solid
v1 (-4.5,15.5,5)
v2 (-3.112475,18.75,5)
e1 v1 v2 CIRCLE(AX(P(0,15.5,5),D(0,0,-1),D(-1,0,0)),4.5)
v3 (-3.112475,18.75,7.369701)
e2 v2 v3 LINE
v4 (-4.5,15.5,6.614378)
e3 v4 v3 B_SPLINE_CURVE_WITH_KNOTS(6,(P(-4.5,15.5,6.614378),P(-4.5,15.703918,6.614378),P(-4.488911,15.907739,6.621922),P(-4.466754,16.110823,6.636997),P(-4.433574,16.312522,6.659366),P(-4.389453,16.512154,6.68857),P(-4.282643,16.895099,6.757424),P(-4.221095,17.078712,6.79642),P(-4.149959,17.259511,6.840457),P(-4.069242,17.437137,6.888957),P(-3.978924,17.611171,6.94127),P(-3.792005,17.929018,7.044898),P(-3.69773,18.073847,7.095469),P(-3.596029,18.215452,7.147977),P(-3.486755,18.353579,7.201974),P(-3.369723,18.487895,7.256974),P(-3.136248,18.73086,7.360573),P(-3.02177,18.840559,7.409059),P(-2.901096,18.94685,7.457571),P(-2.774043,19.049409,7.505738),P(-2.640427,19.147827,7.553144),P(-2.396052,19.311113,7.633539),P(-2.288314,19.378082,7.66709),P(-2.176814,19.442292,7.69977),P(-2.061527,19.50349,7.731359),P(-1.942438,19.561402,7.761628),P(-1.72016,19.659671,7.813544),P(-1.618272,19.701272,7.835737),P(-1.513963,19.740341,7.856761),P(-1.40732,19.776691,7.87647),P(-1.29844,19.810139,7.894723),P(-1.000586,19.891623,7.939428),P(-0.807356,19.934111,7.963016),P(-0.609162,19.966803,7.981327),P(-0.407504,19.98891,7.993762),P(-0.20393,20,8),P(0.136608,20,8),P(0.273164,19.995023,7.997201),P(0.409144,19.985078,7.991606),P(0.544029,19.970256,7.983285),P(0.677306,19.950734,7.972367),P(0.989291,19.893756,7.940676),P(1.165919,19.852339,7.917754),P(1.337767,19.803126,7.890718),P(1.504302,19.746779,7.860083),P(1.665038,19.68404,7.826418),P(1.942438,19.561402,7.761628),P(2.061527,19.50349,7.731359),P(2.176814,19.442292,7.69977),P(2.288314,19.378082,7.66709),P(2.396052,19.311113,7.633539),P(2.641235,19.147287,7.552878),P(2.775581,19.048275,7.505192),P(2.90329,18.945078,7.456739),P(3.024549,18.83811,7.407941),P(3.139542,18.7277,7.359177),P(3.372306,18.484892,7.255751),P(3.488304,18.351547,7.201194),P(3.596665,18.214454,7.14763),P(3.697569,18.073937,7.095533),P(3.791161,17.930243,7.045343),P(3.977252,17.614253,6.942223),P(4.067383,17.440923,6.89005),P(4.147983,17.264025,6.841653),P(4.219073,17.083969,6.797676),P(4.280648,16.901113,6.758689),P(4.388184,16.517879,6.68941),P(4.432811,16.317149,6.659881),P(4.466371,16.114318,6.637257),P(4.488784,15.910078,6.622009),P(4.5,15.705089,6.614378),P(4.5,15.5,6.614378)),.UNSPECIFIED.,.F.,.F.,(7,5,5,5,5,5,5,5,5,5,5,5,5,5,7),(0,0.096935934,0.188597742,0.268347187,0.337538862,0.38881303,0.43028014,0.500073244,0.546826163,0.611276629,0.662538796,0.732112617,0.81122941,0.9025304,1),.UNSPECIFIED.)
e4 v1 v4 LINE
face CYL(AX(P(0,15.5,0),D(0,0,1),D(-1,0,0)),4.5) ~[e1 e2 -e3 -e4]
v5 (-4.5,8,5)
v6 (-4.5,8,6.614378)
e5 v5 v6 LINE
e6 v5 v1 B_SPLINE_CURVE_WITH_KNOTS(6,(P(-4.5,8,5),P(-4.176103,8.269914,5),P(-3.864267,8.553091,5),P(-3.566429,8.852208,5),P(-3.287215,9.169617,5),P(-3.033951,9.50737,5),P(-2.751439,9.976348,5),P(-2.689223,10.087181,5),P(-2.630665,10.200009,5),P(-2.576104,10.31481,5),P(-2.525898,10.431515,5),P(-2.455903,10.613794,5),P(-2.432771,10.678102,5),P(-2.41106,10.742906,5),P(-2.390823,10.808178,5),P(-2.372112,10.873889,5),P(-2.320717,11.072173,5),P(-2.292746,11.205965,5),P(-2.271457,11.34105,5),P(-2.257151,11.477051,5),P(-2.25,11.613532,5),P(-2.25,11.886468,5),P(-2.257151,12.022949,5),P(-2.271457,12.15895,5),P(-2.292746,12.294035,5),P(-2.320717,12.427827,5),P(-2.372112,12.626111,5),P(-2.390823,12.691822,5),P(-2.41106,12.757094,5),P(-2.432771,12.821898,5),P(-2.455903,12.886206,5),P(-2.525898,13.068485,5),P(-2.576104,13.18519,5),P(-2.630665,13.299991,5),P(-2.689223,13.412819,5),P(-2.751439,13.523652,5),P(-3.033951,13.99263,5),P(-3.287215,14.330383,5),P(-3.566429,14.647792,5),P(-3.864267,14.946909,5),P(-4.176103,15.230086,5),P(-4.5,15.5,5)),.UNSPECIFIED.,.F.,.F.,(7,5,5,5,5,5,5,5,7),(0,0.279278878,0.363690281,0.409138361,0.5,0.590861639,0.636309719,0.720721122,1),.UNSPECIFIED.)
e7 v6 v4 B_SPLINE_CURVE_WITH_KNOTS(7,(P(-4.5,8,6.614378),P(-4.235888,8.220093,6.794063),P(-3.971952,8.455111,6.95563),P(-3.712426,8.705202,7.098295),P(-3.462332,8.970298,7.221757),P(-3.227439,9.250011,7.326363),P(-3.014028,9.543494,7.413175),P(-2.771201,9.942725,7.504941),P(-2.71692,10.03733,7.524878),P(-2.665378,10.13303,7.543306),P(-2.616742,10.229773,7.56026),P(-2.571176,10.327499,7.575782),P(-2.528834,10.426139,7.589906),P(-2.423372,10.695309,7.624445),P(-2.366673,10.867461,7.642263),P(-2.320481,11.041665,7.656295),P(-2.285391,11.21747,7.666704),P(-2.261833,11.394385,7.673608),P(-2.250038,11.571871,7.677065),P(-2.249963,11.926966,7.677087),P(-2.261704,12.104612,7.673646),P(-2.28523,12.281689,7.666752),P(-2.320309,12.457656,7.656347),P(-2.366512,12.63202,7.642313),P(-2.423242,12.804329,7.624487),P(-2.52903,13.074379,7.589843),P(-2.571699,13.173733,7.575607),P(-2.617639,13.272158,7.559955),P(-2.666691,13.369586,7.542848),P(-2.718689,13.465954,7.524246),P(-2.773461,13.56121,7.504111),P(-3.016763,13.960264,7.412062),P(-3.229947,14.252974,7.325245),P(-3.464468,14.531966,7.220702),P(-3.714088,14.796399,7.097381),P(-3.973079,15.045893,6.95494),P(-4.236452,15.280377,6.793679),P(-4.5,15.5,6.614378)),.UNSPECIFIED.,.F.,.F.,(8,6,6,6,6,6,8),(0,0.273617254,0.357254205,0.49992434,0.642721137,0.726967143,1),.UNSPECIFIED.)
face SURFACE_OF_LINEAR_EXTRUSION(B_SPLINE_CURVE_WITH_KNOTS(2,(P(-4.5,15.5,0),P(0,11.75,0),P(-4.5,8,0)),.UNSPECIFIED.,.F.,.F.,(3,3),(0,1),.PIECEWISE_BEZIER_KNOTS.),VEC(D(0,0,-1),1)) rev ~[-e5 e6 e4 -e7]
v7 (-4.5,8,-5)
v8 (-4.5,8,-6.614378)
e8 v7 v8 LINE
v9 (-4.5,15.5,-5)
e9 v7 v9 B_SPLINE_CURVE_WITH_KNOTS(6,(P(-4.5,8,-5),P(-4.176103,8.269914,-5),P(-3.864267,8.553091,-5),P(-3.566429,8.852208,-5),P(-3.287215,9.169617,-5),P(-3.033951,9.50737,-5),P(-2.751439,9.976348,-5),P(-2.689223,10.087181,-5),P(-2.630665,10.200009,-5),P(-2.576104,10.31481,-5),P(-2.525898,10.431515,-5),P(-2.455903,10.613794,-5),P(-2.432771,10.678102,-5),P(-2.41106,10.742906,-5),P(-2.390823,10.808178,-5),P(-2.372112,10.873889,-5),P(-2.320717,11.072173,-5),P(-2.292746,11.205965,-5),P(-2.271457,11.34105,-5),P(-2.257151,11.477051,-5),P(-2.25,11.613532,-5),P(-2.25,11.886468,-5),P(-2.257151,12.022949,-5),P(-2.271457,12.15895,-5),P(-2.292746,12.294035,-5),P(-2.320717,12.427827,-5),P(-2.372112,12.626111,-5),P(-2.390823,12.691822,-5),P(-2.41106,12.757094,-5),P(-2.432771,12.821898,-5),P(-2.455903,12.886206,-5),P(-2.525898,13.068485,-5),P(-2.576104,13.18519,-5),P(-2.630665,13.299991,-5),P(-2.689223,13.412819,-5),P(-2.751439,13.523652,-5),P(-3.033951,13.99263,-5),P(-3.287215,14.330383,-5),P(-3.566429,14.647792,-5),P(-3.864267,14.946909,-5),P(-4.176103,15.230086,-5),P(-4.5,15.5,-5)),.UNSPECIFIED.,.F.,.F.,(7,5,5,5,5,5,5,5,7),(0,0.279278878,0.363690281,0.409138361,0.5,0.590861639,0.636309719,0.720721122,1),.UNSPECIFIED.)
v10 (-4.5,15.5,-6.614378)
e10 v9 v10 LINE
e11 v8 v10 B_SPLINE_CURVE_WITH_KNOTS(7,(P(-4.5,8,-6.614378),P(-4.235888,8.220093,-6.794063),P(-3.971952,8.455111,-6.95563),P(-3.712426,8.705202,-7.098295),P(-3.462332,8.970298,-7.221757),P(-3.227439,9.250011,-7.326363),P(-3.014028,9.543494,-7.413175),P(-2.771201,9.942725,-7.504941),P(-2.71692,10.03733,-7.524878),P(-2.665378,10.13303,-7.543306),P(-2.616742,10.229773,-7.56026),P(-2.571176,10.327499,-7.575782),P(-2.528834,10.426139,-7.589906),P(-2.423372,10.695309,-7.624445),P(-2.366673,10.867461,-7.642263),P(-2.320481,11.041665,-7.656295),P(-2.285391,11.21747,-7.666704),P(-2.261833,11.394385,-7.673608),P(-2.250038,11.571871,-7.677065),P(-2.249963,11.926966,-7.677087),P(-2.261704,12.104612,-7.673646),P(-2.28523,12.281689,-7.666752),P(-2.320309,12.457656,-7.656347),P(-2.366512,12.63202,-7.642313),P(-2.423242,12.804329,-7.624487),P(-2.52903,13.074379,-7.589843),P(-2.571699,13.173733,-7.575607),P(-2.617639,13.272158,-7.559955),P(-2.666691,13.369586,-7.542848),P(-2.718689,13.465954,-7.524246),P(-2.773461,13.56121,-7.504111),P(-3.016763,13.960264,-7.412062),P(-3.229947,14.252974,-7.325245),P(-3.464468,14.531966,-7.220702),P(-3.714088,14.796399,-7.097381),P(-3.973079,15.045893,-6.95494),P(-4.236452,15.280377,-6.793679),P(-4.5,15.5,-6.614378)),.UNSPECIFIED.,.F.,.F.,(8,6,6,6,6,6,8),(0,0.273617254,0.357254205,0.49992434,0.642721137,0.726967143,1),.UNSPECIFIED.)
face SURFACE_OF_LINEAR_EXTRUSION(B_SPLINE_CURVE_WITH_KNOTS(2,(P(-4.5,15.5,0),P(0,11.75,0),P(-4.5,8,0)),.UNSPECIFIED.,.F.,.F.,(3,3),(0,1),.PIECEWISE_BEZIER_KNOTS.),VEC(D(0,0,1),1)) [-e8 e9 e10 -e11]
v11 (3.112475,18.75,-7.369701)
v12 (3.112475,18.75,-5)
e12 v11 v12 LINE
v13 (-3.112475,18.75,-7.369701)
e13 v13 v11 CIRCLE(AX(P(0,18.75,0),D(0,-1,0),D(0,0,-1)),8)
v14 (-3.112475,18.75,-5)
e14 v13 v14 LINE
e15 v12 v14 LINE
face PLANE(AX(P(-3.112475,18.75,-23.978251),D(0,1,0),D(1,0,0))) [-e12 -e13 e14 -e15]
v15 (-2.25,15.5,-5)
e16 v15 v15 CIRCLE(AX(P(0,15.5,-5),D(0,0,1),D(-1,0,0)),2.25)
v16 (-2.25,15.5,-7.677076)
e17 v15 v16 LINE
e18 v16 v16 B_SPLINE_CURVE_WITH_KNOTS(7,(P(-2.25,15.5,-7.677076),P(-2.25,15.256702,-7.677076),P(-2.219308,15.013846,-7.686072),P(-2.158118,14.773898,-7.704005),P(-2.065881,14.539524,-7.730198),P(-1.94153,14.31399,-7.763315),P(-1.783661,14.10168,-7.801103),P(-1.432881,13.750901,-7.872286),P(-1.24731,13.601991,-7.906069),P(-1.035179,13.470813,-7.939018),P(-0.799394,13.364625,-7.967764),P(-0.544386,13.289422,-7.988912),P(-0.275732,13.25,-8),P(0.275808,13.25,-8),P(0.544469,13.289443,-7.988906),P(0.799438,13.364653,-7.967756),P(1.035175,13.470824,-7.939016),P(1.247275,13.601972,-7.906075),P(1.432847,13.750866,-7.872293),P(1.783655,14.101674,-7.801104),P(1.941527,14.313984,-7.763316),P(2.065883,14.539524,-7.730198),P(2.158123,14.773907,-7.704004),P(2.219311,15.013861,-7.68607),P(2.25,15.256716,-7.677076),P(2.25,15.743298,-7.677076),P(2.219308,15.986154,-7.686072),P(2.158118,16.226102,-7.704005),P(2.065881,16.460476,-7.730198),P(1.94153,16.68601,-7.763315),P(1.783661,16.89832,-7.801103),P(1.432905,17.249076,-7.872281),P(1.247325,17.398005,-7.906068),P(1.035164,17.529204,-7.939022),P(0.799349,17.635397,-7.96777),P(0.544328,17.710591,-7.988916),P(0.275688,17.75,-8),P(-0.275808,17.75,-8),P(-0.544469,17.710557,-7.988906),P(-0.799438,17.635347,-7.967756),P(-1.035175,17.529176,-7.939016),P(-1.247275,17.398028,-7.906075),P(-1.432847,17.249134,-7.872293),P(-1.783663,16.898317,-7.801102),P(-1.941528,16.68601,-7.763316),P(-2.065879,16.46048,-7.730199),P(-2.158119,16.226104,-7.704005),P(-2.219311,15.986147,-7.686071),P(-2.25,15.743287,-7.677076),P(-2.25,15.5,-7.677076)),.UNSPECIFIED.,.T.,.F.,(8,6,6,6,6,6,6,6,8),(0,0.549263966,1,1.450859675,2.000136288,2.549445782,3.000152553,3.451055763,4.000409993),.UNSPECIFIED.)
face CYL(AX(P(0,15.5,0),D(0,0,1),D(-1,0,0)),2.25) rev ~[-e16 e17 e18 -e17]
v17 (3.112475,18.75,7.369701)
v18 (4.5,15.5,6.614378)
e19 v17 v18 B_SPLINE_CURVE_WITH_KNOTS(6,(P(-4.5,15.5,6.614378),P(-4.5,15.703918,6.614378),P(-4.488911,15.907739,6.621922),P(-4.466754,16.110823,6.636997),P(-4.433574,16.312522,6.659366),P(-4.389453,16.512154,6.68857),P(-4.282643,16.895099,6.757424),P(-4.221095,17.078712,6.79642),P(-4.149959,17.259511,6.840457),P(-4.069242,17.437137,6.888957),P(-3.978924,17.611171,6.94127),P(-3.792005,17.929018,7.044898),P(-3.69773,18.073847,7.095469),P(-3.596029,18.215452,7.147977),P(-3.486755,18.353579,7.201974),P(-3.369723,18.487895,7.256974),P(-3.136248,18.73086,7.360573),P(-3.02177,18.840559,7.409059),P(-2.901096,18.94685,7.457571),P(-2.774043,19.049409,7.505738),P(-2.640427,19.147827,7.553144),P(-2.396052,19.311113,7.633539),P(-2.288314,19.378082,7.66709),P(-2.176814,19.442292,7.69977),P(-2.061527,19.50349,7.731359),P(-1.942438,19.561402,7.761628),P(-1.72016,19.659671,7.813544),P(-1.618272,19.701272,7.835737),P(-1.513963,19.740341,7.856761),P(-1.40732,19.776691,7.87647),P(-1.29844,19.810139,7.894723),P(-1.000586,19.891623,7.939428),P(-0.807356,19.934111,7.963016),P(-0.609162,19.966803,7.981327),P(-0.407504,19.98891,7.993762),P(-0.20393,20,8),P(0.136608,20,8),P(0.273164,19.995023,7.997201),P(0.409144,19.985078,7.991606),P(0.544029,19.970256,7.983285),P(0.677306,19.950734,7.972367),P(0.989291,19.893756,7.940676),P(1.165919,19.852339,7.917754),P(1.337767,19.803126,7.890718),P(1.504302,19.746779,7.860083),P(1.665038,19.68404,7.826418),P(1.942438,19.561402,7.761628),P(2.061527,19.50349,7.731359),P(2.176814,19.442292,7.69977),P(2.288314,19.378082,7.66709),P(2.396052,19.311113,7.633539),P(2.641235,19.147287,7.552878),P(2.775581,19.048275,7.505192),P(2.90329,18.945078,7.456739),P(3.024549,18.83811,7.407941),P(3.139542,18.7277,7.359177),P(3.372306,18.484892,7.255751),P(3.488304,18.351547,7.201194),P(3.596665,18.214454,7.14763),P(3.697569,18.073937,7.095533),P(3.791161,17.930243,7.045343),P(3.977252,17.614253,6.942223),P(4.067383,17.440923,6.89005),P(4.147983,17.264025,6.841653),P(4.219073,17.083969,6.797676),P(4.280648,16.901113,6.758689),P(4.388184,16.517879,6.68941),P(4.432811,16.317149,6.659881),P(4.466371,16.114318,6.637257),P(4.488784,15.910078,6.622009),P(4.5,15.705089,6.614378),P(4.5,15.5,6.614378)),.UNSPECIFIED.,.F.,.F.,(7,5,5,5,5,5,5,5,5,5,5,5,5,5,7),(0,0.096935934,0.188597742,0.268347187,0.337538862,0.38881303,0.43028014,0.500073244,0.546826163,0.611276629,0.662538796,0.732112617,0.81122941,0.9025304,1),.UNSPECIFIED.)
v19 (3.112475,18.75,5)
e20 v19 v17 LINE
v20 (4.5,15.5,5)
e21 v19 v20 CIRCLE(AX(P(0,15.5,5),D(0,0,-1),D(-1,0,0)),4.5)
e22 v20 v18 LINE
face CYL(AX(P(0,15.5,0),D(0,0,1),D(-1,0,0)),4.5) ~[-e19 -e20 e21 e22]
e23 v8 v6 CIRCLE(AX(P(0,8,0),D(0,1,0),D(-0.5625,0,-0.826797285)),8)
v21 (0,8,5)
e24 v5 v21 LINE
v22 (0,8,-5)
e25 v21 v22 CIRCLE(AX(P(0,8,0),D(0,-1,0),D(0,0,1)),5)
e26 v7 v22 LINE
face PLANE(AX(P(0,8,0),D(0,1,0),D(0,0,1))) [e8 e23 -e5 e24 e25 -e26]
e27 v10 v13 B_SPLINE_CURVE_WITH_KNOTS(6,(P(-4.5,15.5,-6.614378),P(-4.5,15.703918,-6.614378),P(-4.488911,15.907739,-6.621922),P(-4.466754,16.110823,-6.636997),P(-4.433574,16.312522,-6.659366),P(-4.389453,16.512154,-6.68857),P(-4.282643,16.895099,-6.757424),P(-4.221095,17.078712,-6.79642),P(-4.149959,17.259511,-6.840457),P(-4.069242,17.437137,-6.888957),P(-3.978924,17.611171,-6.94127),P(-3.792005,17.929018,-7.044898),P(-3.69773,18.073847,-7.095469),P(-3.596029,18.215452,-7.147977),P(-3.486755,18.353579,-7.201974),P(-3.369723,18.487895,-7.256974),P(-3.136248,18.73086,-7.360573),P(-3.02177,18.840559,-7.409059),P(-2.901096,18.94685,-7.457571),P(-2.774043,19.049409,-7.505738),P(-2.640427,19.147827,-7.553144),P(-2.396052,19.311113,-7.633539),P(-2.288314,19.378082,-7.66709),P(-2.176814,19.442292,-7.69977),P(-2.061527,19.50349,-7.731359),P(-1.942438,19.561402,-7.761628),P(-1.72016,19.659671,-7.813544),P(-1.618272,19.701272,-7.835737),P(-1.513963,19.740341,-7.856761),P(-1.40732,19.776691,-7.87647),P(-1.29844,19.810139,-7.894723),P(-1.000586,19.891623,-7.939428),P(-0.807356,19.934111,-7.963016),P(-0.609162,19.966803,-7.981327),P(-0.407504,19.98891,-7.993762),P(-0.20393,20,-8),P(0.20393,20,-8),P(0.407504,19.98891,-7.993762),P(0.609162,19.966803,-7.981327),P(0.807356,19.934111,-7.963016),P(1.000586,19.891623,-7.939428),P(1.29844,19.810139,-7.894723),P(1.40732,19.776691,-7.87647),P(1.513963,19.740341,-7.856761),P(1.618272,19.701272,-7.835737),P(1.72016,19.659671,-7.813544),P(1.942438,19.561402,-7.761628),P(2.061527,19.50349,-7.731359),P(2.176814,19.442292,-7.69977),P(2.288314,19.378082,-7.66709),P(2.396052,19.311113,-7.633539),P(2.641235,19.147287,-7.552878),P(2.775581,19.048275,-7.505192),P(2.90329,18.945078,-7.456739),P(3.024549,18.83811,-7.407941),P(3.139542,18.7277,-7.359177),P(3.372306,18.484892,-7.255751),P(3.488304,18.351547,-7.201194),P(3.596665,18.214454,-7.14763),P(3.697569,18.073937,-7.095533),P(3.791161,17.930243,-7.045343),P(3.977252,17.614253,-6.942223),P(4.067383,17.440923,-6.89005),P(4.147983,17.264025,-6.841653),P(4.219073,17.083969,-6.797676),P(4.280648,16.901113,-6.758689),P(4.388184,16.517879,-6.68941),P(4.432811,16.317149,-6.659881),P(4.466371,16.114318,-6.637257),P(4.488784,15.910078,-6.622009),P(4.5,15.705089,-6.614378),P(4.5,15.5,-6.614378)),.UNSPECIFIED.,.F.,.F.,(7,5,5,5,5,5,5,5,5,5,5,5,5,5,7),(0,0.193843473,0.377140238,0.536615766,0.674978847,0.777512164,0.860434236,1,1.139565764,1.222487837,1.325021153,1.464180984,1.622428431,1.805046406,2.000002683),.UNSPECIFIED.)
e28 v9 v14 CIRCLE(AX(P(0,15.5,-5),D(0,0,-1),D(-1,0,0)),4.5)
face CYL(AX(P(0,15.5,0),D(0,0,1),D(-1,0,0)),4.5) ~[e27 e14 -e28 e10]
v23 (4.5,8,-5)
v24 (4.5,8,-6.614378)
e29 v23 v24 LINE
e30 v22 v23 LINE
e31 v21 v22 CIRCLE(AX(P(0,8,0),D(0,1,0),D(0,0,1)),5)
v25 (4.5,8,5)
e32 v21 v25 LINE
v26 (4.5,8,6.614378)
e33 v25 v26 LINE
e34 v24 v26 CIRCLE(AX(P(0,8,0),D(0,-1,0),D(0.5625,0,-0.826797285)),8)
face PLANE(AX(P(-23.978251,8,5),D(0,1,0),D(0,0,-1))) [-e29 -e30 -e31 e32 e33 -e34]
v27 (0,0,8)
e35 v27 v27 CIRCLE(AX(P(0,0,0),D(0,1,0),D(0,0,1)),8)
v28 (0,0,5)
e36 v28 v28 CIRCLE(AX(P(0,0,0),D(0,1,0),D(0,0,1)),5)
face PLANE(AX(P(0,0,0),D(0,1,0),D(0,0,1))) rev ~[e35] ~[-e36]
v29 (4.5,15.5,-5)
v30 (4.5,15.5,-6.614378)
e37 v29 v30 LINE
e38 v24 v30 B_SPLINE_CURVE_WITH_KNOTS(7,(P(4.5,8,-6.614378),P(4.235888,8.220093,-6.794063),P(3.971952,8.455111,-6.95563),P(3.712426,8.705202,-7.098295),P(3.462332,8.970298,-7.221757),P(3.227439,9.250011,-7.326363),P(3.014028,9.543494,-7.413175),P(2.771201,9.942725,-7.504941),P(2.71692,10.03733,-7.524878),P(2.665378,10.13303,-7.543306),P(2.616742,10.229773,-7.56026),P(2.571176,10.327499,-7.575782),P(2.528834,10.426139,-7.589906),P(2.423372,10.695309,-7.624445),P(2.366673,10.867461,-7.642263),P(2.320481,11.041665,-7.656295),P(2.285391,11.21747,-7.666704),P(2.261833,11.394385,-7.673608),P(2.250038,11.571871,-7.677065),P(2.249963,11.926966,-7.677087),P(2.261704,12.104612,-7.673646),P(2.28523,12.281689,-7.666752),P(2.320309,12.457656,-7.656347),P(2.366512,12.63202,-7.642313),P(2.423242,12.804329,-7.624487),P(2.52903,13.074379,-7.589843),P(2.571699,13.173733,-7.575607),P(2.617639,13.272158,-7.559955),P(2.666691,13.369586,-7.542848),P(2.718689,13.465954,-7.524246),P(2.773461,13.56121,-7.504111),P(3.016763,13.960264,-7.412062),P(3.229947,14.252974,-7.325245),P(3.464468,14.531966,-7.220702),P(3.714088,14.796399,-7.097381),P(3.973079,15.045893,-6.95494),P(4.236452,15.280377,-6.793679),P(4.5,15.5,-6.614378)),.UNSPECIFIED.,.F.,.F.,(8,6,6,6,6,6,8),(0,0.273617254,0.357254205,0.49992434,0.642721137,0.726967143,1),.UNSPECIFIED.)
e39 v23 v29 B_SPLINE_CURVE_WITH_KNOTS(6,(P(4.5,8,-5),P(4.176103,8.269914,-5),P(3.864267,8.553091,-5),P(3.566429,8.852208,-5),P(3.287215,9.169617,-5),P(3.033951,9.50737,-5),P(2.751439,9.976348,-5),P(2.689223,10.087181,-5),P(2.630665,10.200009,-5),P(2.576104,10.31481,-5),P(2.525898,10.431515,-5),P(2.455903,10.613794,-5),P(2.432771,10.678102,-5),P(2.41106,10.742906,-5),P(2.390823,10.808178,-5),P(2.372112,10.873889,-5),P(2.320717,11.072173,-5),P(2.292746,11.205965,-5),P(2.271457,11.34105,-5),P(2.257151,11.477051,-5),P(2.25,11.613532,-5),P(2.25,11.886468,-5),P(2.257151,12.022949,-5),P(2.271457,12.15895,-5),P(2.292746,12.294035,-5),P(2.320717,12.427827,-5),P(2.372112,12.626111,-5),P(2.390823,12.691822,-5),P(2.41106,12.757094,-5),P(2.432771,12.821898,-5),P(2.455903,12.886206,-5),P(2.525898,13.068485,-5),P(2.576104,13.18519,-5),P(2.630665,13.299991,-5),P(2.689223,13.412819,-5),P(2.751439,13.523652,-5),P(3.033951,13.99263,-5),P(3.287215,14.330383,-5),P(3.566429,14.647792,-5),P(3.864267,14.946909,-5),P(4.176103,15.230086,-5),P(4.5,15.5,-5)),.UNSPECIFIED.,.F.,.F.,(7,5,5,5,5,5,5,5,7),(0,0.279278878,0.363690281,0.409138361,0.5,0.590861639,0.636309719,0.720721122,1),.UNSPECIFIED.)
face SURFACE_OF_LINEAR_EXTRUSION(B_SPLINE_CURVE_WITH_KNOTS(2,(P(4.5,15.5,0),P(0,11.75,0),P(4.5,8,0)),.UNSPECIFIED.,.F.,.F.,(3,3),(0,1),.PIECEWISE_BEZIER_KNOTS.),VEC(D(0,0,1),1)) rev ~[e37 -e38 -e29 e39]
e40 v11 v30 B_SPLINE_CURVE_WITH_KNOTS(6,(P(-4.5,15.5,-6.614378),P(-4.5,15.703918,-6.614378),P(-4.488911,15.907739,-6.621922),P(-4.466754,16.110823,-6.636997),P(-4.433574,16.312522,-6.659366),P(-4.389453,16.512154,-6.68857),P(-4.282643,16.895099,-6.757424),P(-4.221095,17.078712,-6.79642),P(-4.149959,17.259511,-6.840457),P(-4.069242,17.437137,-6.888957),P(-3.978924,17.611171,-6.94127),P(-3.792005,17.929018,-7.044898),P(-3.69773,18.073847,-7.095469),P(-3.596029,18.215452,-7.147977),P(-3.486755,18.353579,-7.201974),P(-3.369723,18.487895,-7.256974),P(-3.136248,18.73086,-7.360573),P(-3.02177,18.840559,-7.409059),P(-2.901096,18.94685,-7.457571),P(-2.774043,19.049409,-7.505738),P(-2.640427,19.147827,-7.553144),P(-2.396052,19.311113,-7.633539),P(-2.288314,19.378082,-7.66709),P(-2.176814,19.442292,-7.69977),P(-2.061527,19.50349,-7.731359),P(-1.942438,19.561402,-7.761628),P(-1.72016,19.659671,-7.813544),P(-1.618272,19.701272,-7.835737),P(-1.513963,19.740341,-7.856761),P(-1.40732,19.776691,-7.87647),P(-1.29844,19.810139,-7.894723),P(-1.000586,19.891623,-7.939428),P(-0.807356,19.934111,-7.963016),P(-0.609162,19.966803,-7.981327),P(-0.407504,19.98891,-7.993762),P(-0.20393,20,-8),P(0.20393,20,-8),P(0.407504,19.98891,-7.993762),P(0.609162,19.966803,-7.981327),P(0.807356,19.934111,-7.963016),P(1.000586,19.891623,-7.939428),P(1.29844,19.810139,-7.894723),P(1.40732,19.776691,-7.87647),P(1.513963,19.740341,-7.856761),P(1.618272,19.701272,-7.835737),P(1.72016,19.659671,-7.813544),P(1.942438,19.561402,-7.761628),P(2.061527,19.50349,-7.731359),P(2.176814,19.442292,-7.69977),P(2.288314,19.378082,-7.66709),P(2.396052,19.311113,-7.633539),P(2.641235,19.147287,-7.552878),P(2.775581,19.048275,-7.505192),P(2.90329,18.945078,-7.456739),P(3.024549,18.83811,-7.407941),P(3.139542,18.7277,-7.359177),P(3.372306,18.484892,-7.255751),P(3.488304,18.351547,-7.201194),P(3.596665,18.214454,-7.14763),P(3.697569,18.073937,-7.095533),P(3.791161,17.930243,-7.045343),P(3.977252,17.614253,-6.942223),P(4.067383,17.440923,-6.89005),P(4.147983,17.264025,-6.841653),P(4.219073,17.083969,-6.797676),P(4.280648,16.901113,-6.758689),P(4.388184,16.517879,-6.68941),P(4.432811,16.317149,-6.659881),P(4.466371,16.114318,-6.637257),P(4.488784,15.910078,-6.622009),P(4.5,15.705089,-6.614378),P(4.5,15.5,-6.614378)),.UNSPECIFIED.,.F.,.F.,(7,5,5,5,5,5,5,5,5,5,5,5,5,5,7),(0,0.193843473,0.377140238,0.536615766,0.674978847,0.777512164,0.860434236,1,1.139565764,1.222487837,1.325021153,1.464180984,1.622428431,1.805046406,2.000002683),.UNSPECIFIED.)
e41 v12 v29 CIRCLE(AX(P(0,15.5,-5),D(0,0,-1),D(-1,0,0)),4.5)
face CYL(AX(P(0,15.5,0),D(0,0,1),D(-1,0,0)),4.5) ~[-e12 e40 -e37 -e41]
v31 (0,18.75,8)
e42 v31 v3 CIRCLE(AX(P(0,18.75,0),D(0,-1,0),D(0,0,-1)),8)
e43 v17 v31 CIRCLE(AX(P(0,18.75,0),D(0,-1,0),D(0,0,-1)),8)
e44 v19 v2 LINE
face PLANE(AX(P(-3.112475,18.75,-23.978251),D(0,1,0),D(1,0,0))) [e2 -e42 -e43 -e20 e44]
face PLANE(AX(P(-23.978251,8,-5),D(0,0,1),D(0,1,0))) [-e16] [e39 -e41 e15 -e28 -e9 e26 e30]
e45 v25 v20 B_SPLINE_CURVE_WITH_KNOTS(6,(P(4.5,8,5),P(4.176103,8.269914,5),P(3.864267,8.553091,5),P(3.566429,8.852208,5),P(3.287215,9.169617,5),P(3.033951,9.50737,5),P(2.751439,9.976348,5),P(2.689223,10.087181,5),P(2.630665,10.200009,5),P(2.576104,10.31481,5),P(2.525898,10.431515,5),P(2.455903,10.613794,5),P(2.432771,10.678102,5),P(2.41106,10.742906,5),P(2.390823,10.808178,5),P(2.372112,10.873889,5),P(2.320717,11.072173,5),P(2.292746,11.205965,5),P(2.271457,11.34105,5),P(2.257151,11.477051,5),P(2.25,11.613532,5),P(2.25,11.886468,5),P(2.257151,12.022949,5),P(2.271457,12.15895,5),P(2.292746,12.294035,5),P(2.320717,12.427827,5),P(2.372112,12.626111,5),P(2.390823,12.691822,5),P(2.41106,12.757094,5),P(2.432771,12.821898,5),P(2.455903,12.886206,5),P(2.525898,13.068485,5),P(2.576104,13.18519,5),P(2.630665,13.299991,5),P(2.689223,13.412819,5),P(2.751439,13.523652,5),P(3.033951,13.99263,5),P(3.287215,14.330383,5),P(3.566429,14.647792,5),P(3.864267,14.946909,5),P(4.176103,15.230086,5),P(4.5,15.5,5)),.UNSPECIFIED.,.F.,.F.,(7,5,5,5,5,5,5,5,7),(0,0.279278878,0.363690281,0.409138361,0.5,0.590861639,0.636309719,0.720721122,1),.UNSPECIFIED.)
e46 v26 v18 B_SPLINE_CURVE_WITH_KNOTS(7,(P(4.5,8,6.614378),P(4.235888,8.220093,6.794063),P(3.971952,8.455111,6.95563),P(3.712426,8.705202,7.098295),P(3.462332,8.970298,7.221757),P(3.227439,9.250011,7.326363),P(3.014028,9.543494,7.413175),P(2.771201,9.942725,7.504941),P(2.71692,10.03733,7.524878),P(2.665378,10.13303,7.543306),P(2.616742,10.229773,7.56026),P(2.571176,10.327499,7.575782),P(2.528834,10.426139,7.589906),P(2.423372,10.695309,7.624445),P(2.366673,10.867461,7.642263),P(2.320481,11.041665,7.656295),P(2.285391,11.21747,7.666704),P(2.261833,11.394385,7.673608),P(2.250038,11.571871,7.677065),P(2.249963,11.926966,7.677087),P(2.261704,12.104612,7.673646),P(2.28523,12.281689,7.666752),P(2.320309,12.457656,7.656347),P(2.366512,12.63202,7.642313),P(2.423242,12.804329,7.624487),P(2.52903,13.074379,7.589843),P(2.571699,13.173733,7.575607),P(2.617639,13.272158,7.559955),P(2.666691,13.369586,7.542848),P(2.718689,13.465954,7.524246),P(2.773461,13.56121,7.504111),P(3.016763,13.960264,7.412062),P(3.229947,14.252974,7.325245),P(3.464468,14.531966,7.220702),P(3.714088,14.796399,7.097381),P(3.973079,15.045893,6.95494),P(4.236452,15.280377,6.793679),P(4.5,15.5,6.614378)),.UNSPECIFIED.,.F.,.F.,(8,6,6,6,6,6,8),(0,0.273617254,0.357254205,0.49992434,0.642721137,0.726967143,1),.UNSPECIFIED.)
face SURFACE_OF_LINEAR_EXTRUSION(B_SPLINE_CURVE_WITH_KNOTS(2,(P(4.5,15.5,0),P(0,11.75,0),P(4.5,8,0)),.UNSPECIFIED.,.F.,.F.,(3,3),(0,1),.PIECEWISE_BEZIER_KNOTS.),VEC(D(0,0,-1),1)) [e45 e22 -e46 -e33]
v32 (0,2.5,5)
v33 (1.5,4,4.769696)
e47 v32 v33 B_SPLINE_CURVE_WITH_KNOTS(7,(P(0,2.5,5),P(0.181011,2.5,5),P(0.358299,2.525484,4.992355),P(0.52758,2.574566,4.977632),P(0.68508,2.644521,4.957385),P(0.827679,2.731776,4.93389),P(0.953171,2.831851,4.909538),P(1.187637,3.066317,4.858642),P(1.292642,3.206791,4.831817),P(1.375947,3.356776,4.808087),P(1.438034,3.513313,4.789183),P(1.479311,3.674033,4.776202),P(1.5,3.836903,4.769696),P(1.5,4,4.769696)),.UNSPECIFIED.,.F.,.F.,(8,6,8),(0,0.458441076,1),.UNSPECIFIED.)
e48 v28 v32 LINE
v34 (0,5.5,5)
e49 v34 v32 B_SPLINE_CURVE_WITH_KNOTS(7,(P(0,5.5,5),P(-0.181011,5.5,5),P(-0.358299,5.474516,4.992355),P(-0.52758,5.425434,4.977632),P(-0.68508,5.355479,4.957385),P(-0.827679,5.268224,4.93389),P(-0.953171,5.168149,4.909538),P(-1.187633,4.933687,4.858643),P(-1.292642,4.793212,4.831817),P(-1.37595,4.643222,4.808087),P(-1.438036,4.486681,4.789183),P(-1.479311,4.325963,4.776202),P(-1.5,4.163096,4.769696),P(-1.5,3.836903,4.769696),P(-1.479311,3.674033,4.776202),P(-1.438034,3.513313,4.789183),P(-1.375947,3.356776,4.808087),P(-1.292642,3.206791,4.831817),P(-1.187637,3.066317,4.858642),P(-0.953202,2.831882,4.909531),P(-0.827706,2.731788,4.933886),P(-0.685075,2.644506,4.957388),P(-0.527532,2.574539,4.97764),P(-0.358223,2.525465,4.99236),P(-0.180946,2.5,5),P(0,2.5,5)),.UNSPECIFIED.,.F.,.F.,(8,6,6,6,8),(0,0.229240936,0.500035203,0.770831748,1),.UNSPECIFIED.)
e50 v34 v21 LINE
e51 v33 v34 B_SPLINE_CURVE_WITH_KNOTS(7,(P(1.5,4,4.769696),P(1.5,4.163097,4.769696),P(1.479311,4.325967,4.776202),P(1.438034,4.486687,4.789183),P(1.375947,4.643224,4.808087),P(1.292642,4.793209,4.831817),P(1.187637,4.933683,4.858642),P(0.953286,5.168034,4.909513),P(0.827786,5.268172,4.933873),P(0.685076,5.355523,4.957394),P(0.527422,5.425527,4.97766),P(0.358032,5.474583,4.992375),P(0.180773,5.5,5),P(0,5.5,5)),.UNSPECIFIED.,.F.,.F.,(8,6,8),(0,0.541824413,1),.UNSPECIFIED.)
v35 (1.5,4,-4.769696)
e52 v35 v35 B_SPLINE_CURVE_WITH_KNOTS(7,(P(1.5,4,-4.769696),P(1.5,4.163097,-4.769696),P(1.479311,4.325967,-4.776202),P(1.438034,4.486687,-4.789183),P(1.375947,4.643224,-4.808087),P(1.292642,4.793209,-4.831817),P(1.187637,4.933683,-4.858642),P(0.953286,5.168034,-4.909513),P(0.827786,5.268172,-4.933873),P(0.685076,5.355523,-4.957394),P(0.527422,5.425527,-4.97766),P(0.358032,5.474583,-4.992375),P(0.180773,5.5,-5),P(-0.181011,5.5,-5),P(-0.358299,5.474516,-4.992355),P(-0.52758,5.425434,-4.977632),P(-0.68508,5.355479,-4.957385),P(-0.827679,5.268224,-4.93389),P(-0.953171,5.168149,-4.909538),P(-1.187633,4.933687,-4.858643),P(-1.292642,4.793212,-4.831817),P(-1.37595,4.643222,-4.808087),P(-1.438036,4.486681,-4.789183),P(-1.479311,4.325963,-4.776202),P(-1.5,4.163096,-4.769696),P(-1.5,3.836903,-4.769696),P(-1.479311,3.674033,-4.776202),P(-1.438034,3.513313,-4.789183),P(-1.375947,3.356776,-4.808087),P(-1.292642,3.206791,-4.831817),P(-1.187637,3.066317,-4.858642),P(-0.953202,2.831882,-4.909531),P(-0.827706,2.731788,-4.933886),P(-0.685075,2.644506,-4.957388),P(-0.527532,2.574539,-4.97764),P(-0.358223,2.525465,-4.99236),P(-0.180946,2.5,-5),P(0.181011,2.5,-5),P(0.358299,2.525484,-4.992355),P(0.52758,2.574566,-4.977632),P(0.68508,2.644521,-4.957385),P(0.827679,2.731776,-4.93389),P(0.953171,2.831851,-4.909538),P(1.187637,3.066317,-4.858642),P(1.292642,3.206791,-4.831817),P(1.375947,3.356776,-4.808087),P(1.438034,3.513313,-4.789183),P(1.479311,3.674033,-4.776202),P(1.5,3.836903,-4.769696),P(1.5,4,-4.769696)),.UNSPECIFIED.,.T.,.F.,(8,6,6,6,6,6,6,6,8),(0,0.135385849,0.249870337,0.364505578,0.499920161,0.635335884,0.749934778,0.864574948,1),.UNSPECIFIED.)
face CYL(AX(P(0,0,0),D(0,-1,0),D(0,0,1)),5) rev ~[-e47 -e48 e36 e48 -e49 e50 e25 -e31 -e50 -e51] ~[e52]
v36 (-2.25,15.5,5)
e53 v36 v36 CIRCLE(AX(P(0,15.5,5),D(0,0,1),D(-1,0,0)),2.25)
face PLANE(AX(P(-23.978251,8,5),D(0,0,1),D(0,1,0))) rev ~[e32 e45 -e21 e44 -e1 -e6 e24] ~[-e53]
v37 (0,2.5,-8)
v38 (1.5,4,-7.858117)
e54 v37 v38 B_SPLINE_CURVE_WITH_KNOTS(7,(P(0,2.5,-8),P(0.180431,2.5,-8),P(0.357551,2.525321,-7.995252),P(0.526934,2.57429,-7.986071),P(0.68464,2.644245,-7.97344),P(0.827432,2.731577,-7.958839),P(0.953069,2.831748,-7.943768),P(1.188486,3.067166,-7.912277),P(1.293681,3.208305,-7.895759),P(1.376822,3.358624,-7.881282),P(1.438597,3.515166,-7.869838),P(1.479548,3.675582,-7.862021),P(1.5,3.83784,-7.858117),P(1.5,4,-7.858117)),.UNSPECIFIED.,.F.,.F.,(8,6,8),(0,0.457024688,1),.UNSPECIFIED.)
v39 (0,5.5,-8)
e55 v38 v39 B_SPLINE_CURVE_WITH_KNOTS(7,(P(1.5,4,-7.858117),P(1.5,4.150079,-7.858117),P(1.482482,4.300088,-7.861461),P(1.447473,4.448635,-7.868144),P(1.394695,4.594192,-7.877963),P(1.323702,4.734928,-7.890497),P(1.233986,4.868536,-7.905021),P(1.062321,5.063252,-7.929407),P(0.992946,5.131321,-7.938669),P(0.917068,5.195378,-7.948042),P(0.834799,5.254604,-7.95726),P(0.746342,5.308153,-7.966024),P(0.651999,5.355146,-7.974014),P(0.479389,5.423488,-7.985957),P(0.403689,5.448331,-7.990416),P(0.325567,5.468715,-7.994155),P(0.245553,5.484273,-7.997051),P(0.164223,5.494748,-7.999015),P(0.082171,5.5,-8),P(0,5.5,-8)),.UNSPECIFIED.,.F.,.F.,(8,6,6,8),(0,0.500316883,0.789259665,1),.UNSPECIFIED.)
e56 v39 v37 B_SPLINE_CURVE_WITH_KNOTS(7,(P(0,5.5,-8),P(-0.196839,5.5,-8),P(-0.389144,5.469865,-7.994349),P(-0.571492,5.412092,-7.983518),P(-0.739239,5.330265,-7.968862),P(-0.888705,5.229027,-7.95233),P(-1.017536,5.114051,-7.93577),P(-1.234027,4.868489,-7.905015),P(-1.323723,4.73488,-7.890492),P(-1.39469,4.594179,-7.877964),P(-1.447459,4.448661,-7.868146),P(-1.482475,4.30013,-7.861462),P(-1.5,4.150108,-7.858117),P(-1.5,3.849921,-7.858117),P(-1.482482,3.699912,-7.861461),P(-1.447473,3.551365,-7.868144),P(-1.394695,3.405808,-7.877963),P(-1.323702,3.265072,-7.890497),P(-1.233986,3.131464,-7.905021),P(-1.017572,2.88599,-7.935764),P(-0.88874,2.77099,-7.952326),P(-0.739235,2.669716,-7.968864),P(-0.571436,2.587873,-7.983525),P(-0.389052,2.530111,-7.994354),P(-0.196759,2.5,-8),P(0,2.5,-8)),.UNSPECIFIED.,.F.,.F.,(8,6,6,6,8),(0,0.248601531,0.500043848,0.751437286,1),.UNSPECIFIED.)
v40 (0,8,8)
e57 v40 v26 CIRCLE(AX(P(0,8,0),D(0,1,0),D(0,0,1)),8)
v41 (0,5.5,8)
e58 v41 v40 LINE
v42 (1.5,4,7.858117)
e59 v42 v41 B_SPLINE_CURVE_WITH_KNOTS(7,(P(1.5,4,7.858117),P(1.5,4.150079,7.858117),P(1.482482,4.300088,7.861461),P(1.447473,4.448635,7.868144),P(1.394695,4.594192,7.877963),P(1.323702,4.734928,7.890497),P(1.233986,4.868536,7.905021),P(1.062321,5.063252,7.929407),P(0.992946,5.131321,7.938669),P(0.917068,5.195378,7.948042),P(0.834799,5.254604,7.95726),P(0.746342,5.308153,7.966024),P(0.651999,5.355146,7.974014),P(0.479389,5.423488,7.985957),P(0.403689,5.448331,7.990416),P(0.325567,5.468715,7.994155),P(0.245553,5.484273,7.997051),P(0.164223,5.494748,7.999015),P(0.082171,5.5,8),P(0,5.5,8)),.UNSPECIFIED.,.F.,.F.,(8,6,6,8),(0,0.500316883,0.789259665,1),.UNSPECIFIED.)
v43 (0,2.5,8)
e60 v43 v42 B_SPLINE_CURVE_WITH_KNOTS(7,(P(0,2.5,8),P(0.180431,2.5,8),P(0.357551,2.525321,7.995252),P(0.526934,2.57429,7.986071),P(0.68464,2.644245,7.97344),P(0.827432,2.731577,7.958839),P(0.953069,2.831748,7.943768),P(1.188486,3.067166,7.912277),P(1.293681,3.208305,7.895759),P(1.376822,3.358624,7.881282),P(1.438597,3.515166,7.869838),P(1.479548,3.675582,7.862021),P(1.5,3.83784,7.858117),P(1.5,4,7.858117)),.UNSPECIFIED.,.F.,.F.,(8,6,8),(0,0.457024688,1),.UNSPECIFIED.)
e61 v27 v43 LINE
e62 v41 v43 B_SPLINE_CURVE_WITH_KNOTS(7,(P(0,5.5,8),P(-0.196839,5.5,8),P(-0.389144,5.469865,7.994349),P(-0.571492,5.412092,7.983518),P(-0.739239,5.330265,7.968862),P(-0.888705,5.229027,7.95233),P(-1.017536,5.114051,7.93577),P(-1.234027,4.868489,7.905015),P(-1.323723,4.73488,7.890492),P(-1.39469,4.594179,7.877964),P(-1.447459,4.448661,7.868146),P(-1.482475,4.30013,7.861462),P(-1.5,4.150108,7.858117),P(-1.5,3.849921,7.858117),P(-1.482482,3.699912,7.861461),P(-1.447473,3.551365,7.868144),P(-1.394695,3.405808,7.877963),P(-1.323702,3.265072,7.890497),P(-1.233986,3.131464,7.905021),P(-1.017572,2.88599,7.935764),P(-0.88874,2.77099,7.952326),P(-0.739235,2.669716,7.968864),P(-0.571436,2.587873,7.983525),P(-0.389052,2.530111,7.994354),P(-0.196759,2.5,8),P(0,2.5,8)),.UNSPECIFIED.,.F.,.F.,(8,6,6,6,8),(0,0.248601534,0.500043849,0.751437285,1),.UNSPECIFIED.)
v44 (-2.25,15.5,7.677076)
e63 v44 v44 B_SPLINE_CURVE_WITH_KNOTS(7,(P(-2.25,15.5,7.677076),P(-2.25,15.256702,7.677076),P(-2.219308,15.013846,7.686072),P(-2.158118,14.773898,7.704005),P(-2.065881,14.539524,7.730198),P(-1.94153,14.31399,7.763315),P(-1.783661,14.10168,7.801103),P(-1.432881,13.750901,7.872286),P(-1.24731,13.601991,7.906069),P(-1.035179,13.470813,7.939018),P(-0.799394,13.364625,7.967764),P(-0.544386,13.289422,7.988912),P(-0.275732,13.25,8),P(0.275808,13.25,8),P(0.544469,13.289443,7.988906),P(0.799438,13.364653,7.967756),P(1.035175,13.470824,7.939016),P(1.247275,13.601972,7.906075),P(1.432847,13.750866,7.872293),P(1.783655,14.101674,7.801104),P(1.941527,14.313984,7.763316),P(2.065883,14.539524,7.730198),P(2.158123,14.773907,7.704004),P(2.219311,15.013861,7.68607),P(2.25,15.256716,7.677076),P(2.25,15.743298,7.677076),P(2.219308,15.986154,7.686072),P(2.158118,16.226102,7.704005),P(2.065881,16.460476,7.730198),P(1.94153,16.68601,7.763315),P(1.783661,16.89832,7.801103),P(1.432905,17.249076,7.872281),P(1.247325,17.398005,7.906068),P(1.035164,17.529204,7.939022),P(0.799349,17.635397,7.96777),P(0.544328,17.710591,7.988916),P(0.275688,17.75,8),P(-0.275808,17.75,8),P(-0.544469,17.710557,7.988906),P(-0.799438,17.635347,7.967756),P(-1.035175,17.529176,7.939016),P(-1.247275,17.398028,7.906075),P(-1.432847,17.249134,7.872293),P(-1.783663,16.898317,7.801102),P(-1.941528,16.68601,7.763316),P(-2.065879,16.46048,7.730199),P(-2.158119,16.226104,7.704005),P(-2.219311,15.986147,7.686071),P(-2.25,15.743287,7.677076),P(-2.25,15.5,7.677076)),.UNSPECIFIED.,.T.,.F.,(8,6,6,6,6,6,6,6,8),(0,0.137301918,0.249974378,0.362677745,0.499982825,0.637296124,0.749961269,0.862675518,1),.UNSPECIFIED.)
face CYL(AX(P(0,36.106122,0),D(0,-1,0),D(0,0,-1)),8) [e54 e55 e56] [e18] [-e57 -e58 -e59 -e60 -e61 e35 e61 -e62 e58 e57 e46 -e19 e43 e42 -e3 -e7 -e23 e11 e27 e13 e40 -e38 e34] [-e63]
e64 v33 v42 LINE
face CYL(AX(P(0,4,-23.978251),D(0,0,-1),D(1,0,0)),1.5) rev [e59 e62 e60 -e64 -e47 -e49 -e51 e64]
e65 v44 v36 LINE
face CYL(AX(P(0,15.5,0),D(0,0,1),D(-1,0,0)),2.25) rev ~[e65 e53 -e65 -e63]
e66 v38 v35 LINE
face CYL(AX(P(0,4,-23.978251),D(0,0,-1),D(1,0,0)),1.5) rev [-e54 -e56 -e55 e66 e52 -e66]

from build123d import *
from build123d.topology import SkipClean

# Parameters (mm, degrees)
SKETCH2_R                            = 8
SKETCH2_R_2                          = 5
BOSS_EXTRUDE1_DEPTH                  = 8
BOSS_EXTRUDE2_REACH                  = 15.856
BOSS_EXTRUDE2_END_RADIUS             = 8
SKETCH3_R                            = 2.25
BOSS_EXTRUDE2_DIRECTION_2_REACH      = 15.856
BOSS_EXTRUDE2_DIRECTION_2_END_RADIUS = 8
SKETCH4_R                            = 5
CUT_EXTRUDE1_DEPTH                   = 23.978250708
CUT_EXTRUDE2_DEPTH                   = 23.978250708
CUT_EXTRUDE2_DEPTH_BACK              = 23.978250708
SKETCH5_W                            = 10
SKETCH5_H                            = 12
CUT_EXTRUDE3_DEPTH                   = 23.978250708
CUT_EXTRUDE3_DEPTH_BACK              = 23.978250708
SKETCH6_R                            = 1.5
CUT_EXTRUDE4_DEPTH                   = 23.978250752
CUT_EXTRUDE4_DEPTH_BACK              = 23.978250752


with BuildPart() as part:
    # Sketch2 → Boss-Extrude1 (new body)
    with BuildSketch(Plane(origin=(0, 0, 0), x_dir=(1, 0, 0), z_dir=(0, 1, 0))):
        with Locations(Location((0, 0, 0), (0, 0, 270))):
            Circle(SKETCH2_R)
        with Locations(Location((0, 0, 0), (0, 0, 270))):
            Circle(SKETCH2_R_2, mode=Mode.SUBTRACT)
    extrude(amount=BOSS_EXTRUDE1_DEPTH)

    # Boss-Extrude2: up to this cylinder (the profile starts inside it)
    boss_extrude2_end = Plane(origin=(0, 11.750122, 0), z_dir=(0, -1, 0)) * Cylinder(BOSS_EXTRUDE2_END_RADIUS, 48.712, mode=Mode.PRIVATE)
    # Sketch3 → Boss-Extrude2 (add, up to the surface)
    with BuildSketch(Plane.XY, mode=Mode.PRIVATE) as boss_extrude2_sk1:
        with BuildLine():
            Line((0, 8), (-4.5, 8))
            add(Edge.make_bspline(
                [(-4.5, 15.5), (0, 11.75), (-4.5, 8)],
                knots=[0, 0, 0, 1, 1, 1], degree=2))
            ThreePointArc((-4.5, 15.5), (0, 20), (4.5, 15.5))
            add(Edge.make_bspline(
                [(4.5, 15.5), (0, 11.75), (4.5, 8)],
                knots=[0, 0, 0, 1, 1, 1], degree=2))
            Line((4.5, 8), (0, 8))
        make_face()
        with Locations(Location((0, 15.5, 0), (0, 0, 180))):
            Circle(SKETCH3_R, mode=Mode.SUBTRACT)
    boss_extrude2_tool1 = extrude(boss_extrude2_sk1.sketch, amount=BOSS_EXTRUDE2_REACH, mode=Mode.PRIVATE) & boss_extrude2_end
    add(boss_extrude2_tool1.solids().sort_by_distance((2.1, 11.750122, 0))[0])

    # Boss-Extrude2 direction 2: up to this cylinder (the profile starts inside it)
    boss_extrude2_direction_2_end = Plane(origin=(0, 11.750122, 0), z_dir=(0, -1, 0)) * Cylinder(BOSS_EXTRUDE2_DIRECTION_2_END_RADIUS, 48.712, mode=Mode.PRIVATE)
    # Sketch3 → Boss-Extrude2 direction 2 (add, up to the surface)
    with BuildSketch(Plane.XY, mode=Mode.PRIVATE) as boss_extrude2_direction_2_sk1:
        with BuildLine():
            Line((0, 8), (-4.5, 8))
            add(Edge.make_bspline(
                [(-4.5, 15.5), (0, 11.75), (-4.5, 8)],
                knots=[0, 0, 0, 1, 1, 1], degree=2))
            ThreePointArc((-4.5, 15.5), (0, 20), (4.5, 15.5))
            add(Edge.make_bspline(
                [(4.5, 15.5), (0, 11.75), (4.5, 8)],
                knots=[0, 0, 0, 1, 1, 1], degree=2))
            Line((4.5, 8), (0, 8))
        make_face()
        with Locations(Location((0, 15.5, 0), (0, 0, 180))):
            Circle(SKETCH3_R, mode=Mode.SUBTRACT)
    boss_extrude2_direction_2_tool1 = extrude(boss_extrude2_direction_2_sk1.sketch, amount=-BOSS_EXTRUDE2_DIRECTION_2_REACH, mode=Mode.PRIVATE) & boss_extrude2_direction_2_end
    add(boss_extrude2_direction_2_tool1.solids().sort_by_distance((2.1, 11.750122, 0))[0])

    # Sketch4 → Cut-Extrude1 (cut, through all)
    with BuildSketch(Plane.XZ):
        with Locations(Location((0, 0, 0), (0, 0, 90))):
            Circle(SKETCH4_R)
    extrude(amount=-CUT_EXTRUDE1_DEPTH, mode=Mode.SUBTRACT)

    # Sketch5 → Cut-Extrude2 (cut, two sides: drawn at the far end of the back side and taken through both)
    with BuildSketch(Plane(origin=(0, 0, 0), x_dir=(0, 0, -1), z_dir=(1, 0, 0)).offset(-CUT_EXTRUDE2_DEPTH_BACK)):
        with Locations((0, 14)):
            Rectangle(SKETCH5_W, SKETCH5_H)
    extrude(amount=CUT_EXTRUDE2_DEPTH + CUT_EXTRUDE2_DEPTH_BACK, mode=Mode.SUBTRACT)

    # Sketch6 → Cut-Extrude3 (cut, two sides: drawn at the far end of the back side and taken through both)
    with SkipClean():  # the faces are left unmerged after this step: merging them gives an invalid solid
        with BuildSketch(Plane.XY.offset(-CUT_EXTRUDE3_DEPTH_BACK)):
            with Locations((0, 4)):
                Circle(SKETCH6_R)
        extrude(amount=CUT_EXTRUDE3_DEPTH + CUT_EXTRUDE3_DEPTH_BACK, mode=Mode.SUBTRACT)

    # Sketch7 → Cut-Extrude4 (cut, two sides: drawn at the far end of the back side and taken through both)
    with SkipClean():  # the faces are left unmerged after this step: merging them gives an invalid solid
        with BuildSketch(Plane.XY.offset(-CUT_EXTRUDE4_DEPTH_BACK)):
            with BuildLine():
                Line((-3.112474899, 18.75), (3.112474899, 18.75))
                ThreePointArc((3.112474899, 18.75), (0, 20), (-3.112474899, 18.75))
            make_face()
        extrude(amount=CUT_EXTRUDE4_DEPTH + CUT_EXTRUDE4_DEPTH_BACK, mode=Mode.SUBTRACT)


solid = part.part
